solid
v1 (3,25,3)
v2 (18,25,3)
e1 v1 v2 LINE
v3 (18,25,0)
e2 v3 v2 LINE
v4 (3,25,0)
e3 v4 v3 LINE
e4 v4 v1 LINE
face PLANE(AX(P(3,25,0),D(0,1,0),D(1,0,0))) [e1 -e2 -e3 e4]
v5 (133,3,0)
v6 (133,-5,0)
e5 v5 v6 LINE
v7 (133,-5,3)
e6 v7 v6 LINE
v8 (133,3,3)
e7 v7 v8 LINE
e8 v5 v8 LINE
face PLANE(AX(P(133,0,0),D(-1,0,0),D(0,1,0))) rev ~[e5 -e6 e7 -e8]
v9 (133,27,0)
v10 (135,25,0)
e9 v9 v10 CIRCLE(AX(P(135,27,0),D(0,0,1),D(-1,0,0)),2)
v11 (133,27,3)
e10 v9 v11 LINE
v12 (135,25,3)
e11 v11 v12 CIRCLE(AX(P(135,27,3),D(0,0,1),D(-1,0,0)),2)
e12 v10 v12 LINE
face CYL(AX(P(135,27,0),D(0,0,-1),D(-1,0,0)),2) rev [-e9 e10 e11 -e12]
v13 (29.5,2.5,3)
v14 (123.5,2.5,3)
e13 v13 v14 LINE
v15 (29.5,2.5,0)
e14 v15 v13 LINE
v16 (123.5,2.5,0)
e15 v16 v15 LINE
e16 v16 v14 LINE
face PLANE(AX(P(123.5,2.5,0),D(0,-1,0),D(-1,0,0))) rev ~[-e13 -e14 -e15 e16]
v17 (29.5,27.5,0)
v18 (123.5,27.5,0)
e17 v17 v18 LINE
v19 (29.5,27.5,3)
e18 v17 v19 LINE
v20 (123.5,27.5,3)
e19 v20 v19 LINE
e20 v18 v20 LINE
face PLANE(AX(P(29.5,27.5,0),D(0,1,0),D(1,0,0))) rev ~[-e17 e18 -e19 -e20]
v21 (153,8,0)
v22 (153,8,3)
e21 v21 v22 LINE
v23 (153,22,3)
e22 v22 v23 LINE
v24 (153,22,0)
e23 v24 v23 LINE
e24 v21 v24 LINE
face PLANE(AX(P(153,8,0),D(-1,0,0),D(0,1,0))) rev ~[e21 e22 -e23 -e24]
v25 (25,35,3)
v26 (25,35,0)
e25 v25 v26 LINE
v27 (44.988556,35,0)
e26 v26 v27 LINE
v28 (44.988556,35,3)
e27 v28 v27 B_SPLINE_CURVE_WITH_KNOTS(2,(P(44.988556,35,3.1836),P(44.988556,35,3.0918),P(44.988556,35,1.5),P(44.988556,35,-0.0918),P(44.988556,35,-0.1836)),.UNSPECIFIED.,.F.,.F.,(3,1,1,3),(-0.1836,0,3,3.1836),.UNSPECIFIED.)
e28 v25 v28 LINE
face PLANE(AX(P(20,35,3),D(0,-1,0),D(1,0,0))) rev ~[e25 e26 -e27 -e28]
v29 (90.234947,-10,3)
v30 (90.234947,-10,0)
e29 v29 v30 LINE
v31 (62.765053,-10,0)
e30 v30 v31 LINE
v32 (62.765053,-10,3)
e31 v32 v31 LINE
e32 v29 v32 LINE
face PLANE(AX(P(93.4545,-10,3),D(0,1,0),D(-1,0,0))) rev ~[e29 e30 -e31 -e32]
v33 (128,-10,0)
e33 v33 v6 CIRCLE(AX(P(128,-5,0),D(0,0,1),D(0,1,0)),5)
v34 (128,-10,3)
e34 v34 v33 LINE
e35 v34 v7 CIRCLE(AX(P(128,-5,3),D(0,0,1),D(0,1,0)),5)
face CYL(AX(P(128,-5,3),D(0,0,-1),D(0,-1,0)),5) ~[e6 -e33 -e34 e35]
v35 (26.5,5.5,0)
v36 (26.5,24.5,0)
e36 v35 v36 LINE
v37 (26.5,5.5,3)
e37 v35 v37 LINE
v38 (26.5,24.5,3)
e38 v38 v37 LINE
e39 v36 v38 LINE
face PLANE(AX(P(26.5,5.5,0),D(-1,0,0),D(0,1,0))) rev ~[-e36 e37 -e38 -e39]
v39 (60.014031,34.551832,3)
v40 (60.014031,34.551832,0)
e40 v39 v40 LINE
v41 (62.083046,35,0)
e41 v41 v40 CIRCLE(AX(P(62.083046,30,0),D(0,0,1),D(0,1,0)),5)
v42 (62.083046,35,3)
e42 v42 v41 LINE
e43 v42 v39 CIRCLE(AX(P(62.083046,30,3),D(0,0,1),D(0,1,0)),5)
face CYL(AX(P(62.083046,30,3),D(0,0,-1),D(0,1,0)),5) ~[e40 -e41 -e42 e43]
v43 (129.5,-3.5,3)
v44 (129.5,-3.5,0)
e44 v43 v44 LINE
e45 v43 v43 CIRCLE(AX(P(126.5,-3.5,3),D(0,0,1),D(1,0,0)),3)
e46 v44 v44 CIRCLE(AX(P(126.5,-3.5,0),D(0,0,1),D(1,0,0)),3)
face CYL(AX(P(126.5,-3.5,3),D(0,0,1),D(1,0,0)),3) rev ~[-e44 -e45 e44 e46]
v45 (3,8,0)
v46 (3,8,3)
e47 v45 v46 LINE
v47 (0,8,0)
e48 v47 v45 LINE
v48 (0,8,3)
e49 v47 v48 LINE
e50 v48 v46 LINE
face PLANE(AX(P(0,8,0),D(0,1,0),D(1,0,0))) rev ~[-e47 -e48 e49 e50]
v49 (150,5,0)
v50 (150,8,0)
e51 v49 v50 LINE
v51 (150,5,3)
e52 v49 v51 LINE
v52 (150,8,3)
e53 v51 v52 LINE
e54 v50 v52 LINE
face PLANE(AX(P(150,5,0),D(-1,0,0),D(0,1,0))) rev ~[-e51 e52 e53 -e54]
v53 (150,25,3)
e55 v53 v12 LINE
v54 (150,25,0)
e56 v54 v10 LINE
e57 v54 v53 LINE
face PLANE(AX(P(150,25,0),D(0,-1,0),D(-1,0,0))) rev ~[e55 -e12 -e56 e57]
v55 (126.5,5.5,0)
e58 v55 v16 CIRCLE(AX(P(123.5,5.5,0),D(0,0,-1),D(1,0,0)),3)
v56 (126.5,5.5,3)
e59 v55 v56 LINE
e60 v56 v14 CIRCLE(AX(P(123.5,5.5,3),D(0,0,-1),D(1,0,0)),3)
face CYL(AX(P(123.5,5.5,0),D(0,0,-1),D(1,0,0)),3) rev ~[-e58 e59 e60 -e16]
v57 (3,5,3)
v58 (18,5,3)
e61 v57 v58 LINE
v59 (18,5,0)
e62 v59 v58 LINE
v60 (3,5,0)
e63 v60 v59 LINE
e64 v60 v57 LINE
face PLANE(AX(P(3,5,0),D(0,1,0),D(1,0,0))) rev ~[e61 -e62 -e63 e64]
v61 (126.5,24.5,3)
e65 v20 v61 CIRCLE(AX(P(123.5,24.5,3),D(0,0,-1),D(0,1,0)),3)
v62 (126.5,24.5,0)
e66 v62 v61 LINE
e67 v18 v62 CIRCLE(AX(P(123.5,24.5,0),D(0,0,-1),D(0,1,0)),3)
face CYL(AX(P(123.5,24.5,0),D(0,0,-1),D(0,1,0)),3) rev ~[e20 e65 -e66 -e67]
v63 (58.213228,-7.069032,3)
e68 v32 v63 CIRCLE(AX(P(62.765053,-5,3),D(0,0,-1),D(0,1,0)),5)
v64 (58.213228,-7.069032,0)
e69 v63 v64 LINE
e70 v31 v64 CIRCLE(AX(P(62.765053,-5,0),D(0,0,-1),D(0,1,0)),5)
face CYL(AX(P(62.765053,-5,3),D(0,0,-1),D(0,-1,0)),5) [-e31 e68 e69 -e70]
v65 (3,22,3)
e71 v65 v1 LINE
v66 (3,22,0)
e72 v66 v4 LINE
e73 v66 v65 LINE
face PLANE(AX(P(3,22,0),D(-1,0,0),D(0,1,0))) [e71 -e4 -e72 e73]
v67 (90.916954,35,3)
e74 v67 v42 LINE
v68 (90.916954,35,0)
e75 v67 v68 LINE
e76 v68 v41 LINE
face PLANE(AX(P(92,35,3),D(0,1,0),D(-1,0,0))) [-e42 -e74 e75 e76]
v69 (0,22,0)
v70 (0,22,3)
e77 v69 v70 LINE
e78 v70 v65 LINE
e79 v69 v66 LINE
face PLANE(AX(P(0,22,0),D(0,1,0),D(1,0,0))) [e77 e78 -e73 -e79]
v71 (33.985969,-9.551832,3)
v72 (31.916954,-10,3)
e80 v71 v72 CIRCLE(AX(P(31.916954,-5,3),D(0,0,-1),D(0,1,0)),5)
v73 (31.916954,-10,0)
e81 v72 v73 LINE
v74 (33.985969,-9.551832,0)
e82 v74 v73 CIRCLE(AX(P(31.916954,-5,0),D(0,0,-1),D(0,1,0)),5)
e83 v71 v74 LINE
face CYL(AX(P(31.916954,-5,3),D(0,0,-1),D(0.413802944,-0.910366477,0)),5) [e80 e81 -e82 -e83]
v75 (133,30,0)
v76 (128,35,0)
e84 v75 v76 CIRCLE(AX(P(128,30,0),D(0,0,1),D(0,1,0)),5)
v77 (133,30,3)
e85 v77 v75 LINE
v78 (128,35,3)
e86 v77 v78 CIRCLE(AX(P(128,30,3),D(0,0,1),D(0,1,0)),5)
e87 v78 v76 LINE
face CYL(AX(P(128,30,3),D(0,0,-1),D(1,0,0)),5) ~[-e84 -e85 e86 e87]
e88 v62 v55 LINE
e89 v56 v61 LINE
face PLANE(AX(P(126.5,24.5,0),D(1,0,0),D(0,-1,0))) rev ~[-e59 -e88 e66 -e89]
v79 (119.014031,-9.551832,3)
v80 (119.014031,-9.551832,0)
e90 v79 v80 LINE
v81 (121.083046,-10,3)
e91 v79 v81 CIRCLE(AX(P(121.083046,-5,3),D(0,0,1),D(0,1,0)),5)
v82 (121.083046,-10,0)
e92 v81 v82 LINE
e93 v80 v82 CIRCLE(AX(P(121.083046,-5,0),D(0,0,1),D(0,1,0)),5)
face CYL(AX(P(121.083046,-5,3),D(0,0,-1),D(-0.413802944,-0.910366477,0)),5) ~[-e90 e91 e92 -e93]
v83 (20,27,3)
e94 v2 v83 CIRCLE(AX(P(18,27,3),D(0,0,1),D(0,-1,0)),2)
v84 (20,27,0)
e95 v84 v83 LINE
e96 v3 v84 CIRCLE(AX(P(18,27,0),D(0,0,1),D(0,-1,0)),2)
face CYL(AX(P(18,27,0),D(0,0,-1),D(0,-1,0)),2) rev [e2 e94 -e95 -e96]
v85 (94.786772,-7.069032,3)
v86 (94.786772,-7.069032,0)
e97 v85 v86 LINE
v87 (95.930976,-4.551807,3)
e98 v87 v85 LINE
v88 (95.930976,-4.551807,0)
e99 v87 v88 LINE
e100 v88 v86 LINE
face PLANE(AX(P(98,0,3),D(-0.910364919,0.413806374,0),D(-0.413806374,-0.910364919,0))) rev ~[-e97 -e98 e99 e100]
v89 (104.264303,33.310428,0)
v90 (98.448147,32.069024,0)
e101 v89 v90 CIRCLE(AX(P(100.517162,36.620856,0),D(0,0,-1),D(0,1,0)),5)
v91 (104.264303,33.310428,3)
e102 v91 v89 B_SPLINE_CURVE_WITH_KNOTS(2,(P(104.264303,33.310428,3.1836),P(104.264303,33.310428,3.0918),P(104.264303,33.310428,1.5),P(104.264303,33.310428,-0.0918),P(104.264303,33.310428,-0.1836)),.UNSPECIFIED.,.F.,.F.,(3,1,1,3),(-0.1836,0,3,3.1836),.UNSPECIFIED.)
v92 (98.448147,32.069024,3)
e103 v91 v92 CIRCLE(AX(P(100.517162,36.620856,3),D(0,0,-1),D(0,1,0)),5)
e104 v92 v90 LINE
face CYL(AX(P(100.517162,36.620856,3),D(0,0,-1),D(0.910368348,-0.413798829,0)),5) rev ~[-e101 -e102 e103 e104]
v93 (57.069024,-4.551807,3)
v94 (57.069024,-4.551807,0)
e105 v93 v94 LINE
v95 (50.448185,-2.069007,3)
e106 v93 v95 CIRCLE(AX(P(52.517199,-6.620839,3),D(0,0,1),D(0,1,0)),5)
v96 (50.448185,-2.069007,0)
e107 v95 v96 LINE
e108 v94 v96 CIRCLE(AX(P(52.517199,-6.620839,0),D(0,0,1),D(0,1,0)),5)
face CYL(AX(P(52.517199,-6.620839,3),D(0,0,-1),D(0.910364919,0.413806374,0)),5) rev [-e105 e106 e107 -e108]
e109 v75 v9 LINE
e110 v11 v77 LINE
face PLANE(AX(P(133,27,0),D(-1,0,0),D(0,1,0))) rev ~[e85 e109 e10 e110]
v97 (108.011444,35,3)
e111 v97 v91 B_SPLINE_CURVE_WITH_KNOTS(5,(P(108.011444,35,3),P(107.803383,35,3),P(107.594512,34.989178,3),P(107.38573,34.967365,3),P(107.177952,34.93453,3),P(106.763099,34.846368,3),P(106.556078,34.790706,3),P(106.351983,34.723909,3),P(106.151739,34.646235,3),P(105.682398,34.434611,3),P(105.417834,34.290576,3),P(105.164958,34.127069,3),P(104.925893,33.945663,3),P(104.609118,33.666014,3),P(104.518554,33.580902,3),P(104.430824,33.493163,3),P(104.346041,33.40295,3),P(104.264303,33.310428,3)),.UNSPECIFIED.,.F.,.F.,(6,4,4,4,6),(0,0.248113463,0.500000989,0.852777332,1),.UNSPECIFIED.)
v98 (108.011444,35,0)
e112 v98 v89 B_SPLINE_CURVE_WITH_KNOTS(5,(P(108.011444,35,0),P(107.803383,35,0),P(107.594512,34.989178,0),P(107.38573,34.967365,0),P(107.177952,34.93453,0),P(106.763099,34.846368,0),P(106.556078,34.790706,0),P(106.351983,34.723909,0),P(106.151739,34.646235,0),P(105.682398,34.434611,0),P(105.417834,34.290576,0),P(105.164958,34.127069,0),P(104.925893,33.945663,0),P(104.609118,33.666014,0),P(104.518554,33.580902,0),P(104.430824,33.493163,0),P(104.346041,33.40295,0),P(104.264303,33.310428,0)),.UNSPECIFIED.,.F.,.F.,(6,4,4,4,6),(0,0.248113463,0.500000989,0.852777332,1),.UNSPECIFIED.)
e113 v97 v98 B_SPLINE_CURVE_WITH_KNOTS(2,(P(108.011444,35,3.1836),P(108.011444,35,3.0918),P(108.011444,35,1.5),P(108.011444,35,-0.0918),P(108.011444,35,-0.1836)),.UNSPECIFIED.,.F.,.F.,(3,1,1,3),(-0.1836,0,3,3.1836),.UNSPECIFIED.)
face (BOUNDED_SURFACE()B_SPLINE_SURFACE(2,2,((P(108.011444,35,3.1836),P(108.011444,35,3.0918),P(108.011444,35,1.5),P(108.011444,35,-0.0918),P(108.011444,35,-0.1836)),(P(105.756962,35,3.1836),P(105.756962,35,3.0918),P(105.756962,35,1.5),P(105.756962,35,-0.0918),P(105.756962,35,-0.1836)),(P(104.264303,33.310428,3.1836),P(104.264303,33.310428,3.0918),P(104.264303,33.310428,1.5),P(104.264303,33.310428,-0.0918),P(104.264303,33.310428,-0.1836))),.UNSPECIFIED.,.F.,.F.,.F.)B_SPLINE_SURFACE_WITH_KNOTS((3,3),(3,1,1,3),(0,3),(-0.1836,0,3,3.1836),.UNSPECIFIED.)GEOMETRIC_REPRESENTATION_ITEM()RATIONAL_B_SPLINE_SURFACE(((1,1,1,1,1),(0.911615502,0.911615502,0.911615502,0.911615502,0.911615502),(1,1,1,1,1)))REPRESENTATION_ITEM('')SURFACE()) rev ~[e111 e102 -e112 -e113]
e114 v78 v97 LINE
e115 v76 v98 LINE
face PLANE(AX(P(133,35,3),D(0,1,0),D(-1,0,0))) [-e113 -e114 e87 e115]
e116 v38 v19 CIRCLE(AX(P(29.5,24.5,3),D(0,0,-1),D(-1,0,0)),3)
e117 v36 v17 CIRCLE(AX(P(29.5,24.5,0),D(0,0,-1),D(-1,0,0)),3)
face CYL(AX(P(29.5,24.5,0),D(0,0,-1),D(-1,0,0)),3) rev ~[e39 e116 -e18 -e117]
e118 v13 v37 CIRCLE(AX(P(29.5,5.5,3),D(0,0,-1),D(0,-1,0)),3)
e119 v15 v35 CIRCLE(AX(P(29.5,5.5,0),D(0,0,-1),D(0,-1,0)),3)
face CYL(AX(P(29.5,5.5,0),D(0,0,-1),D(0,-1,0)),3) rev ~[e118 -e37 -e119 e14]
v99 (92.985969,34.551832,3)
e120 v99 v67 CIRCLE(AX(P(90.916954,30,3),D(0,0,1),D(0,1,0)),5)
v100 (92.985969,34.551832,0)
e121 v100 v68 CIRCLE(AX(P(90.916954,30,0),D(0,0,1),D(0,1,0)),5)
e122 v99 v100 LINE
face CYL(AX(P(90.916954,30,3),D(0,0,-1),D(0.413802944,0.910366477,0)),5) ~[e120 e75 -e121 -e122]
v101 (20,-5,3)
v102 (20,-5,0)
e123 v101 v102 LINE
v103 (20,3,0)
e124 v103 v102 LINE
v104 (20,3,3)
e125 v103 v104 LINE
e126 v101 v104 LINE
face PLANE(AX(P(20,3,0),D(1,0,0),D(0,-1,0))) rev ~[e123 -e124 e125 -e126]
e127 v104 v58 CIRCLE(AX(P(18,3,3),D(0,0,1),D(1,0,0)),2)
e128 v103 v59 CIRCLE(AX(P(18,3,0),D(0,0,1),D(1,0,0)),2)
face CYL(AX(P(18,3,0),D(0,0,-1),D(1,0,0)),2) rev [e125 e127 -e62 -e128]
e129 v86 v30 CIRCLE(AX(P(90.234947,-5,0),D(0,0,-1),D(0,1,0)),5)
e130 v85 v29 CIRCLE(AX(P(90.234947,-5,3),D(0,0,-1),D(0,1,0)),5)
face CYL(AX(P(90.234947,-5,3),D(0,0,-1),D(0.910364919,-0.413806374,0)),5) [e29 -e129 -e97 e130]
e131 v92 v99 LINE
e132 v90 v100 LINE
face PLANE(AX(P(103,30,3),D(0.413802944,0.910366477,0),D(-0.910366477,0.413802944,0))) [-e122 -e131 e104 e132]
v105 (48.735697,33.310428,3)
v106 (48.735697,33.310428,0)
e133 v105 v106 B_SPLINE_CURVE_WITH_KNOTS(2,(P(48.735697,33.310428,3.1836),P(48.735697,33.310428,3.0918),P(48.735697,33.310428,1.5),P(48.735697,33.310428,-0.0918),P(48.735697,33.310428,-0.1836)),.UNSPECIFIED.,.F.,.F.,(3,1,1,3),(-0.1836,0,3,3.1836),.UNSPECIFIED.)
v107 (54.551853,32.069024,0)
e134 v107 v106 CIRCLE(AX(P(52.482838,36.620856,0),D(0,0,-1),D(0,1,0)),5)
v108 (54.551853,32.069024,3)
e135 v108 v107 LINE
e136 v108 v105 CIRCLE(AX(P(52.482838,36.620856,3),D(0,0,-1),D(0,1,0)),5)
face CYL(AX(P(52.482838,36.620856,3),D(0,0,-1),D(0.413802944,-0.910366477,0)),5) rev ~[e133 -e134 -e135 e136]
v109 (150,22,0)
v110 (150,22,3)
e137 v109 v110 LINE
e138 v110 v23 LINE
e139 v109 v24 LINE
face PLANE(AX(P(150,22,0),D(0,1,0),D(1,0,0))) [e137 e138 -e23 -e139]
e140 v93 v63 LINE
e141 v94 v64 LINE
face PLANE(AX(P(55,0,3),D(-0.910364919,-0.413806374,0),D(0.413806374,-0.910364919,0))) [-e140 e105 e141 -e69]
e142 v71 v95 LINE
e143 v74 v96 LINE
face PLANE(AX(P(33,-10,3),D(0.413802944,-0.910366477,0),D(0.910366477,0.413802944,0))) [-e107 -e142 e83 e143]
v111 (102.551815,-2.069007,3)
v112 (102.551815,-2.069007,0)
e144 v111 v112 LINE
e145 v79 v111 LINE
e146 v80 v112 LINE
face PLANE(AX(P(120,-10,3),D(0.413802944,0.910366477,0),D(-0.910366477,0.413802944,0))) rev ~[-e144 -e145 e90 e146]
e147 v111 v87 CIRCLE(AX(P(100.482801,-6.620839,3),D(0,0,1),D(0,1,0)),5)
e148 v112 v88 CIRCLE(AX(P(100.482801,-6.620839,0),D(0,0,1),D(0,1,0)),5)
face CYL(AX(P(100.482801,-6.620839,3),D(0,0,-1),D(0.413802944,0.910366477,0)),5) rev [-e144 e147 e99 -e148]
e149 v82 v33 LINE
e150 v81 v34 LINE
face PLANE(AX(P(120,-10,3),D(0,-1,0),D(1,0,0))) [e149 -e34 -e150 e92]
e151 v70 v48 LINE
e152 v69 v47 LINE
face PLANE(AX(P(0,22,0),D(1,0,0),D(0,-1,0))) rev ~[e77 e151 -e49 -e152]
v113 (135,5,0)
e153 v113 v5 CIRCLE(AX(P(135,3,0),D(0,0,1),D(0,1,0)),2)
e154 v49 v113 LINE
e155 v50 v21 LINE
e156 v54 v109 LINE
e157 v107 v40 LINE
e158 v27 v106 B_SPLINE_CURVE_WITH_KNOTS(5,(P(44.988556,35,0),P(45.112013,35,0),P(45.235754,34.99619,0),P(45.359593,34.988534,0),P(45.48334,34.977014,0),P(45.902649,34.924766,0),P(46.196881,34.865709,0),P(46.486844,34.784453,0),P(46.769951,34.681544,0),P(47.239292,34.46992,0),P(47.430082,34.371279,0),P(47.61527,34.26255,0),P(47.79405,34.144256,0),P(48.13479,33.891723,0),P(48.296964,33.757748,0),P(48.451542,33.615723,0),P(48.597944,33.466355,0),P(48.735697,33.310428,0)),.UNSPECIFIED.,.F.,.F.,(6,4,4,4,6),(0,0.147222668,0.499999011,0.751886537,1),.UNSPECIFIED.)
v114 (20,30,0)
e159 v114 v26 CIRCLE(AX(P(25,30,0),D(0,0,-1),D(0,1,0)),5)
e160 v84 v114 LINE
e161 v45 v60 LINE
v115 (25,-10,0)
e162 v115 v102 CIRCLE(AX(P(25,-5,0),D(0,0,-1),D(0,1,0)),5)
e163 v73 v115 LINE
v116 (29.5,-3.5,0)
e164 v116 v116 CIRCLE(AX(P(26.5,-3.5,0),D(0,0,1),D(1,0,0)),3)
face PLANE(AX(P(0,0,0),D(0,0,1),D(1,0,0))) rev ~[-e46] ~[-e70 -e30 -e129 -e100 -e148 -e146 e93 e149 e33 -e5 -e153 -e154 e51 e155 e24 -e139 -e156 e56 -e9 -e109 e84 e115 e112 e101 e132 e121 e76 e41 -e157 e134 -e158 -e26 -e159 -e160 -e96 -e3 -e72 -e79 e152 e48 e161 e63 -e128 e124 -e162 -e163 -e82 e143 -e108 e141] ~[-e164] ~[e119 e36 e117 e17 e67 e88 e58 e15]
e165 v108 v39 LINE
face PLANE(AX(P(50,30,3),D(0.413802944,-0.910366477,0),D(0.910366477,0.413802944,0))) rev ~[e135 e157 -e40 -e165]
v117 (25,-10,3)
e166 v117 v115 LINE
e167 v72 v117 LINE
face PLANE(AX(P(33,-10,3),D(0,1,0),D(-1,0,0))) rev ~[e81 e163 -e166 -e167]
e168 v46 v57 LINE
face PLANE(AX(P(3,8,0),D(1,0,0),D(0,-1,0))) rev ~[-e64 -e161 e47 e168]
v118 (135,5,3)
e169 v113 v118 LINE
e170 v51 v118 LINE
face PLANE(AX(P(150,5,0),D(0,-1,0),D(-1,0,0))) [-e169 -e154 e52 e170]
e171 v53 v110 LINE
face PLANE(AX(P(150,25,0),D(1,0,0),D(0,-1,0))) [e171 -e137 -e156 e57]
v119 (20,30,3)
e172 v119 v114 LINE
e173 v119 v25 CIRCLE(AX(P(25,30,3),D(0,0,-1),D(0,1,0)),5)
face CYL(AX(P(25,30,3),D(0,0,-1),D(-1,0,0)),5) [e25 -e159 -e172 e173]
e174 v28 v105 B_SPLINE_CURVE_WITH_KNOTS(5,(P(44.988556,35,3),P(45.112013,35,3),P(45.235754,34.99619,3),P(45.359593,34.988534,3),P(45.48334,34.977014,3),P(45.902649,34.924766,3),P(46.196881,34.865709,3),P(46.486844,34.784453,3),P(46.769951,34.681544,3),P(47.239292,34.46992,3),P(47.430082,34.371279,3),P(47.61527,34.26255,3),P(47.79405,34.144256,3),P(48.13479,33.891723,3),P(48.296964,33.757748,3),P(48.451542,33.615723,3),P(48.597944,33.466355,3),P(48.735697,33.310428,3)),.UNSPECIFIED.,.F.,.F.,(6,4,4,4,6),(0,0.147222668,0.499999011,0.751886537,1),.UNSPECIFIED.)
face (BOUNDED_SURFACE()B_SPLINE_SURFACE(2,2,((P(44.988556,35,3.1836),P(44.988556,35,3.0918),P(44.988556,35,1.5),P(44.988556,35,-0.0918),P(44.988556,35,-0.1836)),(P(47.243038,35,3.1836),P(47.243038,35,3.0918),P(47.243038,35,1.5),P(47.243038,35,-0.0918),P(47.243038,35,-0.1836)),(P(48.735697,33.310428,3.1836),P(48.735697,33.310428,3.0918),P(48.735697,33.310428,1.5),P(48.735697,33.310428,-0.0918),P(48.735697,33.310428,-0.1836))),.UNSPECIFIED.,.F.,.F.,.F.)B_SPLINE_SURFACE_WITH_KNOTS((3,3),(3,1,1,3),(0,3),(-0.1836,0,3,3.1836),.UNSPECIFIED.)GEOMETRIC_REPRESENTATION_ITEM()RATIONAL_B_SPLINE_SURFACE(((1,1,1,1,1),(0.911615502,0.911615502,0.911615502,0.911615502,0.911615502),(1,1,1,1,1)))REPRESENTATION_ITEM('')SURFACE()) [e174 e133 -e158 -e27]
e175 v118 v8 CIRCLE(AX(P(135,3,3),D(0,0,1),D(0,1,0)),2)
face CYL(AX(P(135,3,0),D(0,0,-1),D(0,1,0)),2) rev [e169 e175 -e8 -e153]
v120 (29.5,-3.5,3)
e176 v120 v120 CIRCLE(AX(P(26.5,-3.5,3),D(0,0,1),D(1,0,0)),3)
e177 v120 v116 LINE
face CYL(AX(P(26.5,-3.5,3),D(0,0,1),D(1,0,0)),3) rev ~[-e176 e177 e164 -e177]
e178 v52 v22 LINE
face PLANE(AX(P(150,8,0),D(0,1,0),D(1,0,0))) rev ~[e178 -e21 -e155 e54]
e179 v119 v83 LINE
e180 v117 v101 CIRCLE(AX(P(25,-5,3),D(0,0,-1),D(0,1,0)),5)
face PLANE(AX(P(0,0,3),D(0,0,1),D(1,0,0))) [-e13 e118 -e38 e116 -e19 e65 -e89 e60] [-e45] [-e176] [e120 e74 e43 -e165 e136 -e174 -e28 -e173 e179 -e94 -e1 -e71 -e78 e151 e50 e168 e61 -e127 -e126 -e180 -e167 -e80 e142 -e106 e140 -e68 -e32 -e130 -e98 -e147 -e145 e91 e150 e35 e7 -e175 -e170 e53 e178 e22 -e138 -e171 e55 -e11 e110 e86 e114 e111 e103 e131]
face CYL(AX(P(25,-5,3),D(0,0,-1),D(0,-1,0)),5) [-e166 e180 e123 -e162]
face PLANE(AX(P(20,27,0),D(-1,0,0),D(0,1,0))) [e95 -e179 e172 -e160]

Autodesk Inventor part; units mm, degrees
ref_plane "YZ Plane" through (0, 0, 0) normal (1, 0, 0) x (0, 1, 0)
ref_plane "XZ Plane" through (0, 0, 0) normal (0, 1, 0) x (-1, 0, 0)
ref_plane "XY Plane" through (0, 0, 0) normal (0, 0, 1) x (1, 0, 0)
sketch "Sketch1" plane through (0, 0, 0) normal (0, 0, 1) x (1, 0, 0)
  line L0 (20, 0) -> (133, 0)
  line L1 (153, 8) -> (153, 22)
  line L2 (133, 30) -> (20, 30)
  line L3 (0, 22) -> (0, 8)
  line L4 (150, 25) -> (135, 25)
  line L5 (133, 27) -> (133, 30)
  line L6 (3, 25) -> (18, 25)
  line L7 (20, 27) -> (20, 30)
  line L8 (3, 5) -> (18, 5)
  line L9 (20, 3) -> (20, 0)
  arc A0 (18, 25) -> (20, 27) centre (18, 27) ccw
  arc A1 (20, 3) -> (18, 5) centre (18, 3) ccw
  arc A2 (133, 27) -> (135, 25) centre (135, 27) ccw
  line L10 (150, 5) -> (135, 5)
  line L11 (0, 22) -> (3, 22)
  line L12 (3, 22) -> (3, 25)
  line L13 (0, 8) -> (3, 8)
  line L14 (3, 8) -> (3, 5)
  line L15 (150, 25) -> (150, 22)
  line L16 (150, 22) -> (153, 22)
  line L17 (150, 5) -> (150, 8)
  line L18 (150, 8) -> (153, 8)
  line L19 (133, 0) -> (133, 3)
  arc A3 (135, 5) -> (133, 3) centre (135, 3) ccw
  point P0 (0, 0)
  point P1 (133, 25)
  point P2 (20, 25)
  point P3 (20, 5)
  point P4 (133, 5)
  dimension "d31" = 5
  dimension "d33" = 5
  dimension "d36" = 5
  dimension "d37" = 113
  dimension "d39" = 2
  dimension "d46" = 2
  dimension "d59" = 3
  dimension "d60" = 3
  dimension "d61" = 3
  dimension "d62" = 3
  dimension "d64" = 14
  dimension "d65" = 20
  dimension "d66" = 3
  dimension "d67" = 3
  dimension "d68" = 14
  dimension "d70" = 3
  dimension "d75" = 2
  dimension "d76" = 20
  dimension "d88" = 20
  dimension "d89" = 20
extrude "Extrusion1" add sketch "Sketch1" along normal blind 3
sketch "Sketch3" plane through (0, 0, 3) normal (0, 0, 1) x (1, 0, 0)
  circle A0 centre (76.5, 15) radius 9
  line L0 (20, 30) -> (133, 30) projected
  line L1 (153, 8) -> (153, 22) projected
  point P0 (0, 0)
  point P1 (2, 30)
  point P2 (151, 30)
  point P3 (153, 2)
  point P4 (153, 28)
  point P5 (27, 30)
  point P6 (126, 30)
  point P7 (153, 7)
  point P8 (153, 23)
  dimension "d24" = 18
  dimension "d25" = 15
  dimension "d26" = 76.5
extrude "Extrusion3" cut sketch "Sketch3" against normal through all
sketch "Sketch4" plane through (0, 0, 3) normal (0, 0, 1) x (1, 0, 0)
  circle A0 centre (26.5, -3.5) radius 3
  circle A1 centre (76.5, 15) radius 9 projected
  line L0 (20, 0) -> (55, 0)
  line L1 (33, -10) -> (20, -10)
  line L2 (20, -10) -> (20, 0)
  line L3 (76.5, 0) -> (76.5, 30) construction
  line L4 (133, 30) -> (20, 30) construction
  circle A2 centre (126.5, -3.5) radius 3
  line L5 (133, 0) -> (98, 0)
  line L6 (120, -10) -> (133, -10)
  line L7 (133, -10) -> (133, 0)
  line L8 (33, -10) -> (55, 0)
  line L9 (120, -10) -> (98, 0)
  line L10 (55, 0) -> (59.5455, -10)
  line L11 (98, 0) -> (93.4545, -10)
  line L12 (93.4545, -10) -> (59.5455, -10)
  line L13 (55, 0) -> (98, 0)
  line L14 (133, 0) -> (20, 0) projected
  point P0 (0, 0)
  point P1 (126, 30)
  point P2 (27, 30)
  dimension "d40" = 6
  dimension "d41" = 50
  dimension "d48" = 10
  dimension "d49" = 13
  dimension "d50" = 3.5
  dimension "d54" = 35
  dimension "d55" = 35
extrude "Extrusion6" add sketch "Sketch4" against normal blind 3 contours L5 L7 L6 L9 | L13 L11 L12 L10 | L0 L8 L1 L2
sketch "Sketch7" plane through (0, 0, 3) normal (0, 0, 1) x (1, 0, 0)
  line L0 (20, 30) -> (20, 35)
  line L1 (20, 35) -> (47.7273, 35)
  line L2 (47.7273, 35) -> (50, 30)
  line L3 (20, 30) -> (133, 30) projected
  line L4 (50, 30) -> (61, 35)
  line L5 (55, 0) -> (59.5455, -10) projected
  line L6 (33, -10) -> (55, 0) projected
  line L7 (133, 30) -> (133, 35)
  line L8 (133, 35) -> (105.2727, 35)
  line L9 (105.2727, 35) -> (103, 30)
  line L10 (103, 30) -> (92, 35)
  line L11 (92, 35) -> (61, 35)
  line L12 (98, 0) -> (120, -10) projected
  line L13 (93.4545, -10) -> (98, 0) projected
  point P0 (0, 0)
  point P1 (57.069, -4.5518)
  point P2 (58.2132, -7.069)
  point P3 (33.986, -9.5518)
  point P4 (50.4482, -2.069)
  point P5 (102.5518, -2.069)
  point P6 (119.014, -9.5518)
  point P7 (94.7868, -7.069)
  point P8 (95.931, -4.5518)
  dimension "d80" = 5
  dimension "d81" = 30
  dimension "d82" = 30
extrude "Extrusion7" add sketch "Sketch7" against normal blind 3
fillet "Fillet4" radius 5 2 edges at (50, 30, 1.5) (103, 30, 1.5)
fillet "Fillet5" radius 5 2 edges at (55, 0, 1.5) (98, 0, 1.5)
fillet "Fillet6" radius 5 12 edges at (20, -10, 1.5) (20, 35, 1.5) (47.7273, 35, 1.5) (61, 35, 1.5) (92, 35, 1.5) (105.2727, 35, 1.5) (133, 35, 1.5) (133, -10, 1.5) (120, -10, 1.5) (93.4545, -10, 1.5) (59.5455, -10, 1.5) (33, -10, 1.5)
sketch "Sketch10" plane through (0, 0, 0) normal (0, 0, -1) x (-1, 0, 0)
  line L0 (-123.5, 2.5) -> (-29.5, 2.5)
  line L1 (-26.5, 5.5) -> (-26.5, 24.5)
  line L2 (-29.5, 27.5) -> (-123.5, 27.5)
  line L3 (-126.5, 24.5) -> (-126.5, 5.5)
  circle A0 centre (-76.5, 15) radius 9 projected
  line L4 (-126.5, 2.5) -> (-26.5, 27.5) construction
  line L5 (-26.5, 2.5) -> (-126.5, 27.5) construction
  arc A1 (-123.5, 27.5) -> (-126.5, 24.5) centre (-123.5, 24.5) ccw
  arc A2 (-26.5, 24.5) -> (-29.5, 27.5) centre (-29.5, 24.5) ccw
  arc A3 (-29.5, 2.5) -> (-26.5, 5.5) centre (-29.5, 5.5) ccw
  arc A4 (-126.5, 5.5) -> (-123.5, 2.5) centre (-123.5, 5.5) ccw
  point P0 (0, 0)
  dimension "d90" = 25
  dimension "d91" = 100
  dimension "d92" = 3
extrude "Extrusion8" cut sketch "Sketch10" against normal through all
properties part number "27030914FacePlate"
